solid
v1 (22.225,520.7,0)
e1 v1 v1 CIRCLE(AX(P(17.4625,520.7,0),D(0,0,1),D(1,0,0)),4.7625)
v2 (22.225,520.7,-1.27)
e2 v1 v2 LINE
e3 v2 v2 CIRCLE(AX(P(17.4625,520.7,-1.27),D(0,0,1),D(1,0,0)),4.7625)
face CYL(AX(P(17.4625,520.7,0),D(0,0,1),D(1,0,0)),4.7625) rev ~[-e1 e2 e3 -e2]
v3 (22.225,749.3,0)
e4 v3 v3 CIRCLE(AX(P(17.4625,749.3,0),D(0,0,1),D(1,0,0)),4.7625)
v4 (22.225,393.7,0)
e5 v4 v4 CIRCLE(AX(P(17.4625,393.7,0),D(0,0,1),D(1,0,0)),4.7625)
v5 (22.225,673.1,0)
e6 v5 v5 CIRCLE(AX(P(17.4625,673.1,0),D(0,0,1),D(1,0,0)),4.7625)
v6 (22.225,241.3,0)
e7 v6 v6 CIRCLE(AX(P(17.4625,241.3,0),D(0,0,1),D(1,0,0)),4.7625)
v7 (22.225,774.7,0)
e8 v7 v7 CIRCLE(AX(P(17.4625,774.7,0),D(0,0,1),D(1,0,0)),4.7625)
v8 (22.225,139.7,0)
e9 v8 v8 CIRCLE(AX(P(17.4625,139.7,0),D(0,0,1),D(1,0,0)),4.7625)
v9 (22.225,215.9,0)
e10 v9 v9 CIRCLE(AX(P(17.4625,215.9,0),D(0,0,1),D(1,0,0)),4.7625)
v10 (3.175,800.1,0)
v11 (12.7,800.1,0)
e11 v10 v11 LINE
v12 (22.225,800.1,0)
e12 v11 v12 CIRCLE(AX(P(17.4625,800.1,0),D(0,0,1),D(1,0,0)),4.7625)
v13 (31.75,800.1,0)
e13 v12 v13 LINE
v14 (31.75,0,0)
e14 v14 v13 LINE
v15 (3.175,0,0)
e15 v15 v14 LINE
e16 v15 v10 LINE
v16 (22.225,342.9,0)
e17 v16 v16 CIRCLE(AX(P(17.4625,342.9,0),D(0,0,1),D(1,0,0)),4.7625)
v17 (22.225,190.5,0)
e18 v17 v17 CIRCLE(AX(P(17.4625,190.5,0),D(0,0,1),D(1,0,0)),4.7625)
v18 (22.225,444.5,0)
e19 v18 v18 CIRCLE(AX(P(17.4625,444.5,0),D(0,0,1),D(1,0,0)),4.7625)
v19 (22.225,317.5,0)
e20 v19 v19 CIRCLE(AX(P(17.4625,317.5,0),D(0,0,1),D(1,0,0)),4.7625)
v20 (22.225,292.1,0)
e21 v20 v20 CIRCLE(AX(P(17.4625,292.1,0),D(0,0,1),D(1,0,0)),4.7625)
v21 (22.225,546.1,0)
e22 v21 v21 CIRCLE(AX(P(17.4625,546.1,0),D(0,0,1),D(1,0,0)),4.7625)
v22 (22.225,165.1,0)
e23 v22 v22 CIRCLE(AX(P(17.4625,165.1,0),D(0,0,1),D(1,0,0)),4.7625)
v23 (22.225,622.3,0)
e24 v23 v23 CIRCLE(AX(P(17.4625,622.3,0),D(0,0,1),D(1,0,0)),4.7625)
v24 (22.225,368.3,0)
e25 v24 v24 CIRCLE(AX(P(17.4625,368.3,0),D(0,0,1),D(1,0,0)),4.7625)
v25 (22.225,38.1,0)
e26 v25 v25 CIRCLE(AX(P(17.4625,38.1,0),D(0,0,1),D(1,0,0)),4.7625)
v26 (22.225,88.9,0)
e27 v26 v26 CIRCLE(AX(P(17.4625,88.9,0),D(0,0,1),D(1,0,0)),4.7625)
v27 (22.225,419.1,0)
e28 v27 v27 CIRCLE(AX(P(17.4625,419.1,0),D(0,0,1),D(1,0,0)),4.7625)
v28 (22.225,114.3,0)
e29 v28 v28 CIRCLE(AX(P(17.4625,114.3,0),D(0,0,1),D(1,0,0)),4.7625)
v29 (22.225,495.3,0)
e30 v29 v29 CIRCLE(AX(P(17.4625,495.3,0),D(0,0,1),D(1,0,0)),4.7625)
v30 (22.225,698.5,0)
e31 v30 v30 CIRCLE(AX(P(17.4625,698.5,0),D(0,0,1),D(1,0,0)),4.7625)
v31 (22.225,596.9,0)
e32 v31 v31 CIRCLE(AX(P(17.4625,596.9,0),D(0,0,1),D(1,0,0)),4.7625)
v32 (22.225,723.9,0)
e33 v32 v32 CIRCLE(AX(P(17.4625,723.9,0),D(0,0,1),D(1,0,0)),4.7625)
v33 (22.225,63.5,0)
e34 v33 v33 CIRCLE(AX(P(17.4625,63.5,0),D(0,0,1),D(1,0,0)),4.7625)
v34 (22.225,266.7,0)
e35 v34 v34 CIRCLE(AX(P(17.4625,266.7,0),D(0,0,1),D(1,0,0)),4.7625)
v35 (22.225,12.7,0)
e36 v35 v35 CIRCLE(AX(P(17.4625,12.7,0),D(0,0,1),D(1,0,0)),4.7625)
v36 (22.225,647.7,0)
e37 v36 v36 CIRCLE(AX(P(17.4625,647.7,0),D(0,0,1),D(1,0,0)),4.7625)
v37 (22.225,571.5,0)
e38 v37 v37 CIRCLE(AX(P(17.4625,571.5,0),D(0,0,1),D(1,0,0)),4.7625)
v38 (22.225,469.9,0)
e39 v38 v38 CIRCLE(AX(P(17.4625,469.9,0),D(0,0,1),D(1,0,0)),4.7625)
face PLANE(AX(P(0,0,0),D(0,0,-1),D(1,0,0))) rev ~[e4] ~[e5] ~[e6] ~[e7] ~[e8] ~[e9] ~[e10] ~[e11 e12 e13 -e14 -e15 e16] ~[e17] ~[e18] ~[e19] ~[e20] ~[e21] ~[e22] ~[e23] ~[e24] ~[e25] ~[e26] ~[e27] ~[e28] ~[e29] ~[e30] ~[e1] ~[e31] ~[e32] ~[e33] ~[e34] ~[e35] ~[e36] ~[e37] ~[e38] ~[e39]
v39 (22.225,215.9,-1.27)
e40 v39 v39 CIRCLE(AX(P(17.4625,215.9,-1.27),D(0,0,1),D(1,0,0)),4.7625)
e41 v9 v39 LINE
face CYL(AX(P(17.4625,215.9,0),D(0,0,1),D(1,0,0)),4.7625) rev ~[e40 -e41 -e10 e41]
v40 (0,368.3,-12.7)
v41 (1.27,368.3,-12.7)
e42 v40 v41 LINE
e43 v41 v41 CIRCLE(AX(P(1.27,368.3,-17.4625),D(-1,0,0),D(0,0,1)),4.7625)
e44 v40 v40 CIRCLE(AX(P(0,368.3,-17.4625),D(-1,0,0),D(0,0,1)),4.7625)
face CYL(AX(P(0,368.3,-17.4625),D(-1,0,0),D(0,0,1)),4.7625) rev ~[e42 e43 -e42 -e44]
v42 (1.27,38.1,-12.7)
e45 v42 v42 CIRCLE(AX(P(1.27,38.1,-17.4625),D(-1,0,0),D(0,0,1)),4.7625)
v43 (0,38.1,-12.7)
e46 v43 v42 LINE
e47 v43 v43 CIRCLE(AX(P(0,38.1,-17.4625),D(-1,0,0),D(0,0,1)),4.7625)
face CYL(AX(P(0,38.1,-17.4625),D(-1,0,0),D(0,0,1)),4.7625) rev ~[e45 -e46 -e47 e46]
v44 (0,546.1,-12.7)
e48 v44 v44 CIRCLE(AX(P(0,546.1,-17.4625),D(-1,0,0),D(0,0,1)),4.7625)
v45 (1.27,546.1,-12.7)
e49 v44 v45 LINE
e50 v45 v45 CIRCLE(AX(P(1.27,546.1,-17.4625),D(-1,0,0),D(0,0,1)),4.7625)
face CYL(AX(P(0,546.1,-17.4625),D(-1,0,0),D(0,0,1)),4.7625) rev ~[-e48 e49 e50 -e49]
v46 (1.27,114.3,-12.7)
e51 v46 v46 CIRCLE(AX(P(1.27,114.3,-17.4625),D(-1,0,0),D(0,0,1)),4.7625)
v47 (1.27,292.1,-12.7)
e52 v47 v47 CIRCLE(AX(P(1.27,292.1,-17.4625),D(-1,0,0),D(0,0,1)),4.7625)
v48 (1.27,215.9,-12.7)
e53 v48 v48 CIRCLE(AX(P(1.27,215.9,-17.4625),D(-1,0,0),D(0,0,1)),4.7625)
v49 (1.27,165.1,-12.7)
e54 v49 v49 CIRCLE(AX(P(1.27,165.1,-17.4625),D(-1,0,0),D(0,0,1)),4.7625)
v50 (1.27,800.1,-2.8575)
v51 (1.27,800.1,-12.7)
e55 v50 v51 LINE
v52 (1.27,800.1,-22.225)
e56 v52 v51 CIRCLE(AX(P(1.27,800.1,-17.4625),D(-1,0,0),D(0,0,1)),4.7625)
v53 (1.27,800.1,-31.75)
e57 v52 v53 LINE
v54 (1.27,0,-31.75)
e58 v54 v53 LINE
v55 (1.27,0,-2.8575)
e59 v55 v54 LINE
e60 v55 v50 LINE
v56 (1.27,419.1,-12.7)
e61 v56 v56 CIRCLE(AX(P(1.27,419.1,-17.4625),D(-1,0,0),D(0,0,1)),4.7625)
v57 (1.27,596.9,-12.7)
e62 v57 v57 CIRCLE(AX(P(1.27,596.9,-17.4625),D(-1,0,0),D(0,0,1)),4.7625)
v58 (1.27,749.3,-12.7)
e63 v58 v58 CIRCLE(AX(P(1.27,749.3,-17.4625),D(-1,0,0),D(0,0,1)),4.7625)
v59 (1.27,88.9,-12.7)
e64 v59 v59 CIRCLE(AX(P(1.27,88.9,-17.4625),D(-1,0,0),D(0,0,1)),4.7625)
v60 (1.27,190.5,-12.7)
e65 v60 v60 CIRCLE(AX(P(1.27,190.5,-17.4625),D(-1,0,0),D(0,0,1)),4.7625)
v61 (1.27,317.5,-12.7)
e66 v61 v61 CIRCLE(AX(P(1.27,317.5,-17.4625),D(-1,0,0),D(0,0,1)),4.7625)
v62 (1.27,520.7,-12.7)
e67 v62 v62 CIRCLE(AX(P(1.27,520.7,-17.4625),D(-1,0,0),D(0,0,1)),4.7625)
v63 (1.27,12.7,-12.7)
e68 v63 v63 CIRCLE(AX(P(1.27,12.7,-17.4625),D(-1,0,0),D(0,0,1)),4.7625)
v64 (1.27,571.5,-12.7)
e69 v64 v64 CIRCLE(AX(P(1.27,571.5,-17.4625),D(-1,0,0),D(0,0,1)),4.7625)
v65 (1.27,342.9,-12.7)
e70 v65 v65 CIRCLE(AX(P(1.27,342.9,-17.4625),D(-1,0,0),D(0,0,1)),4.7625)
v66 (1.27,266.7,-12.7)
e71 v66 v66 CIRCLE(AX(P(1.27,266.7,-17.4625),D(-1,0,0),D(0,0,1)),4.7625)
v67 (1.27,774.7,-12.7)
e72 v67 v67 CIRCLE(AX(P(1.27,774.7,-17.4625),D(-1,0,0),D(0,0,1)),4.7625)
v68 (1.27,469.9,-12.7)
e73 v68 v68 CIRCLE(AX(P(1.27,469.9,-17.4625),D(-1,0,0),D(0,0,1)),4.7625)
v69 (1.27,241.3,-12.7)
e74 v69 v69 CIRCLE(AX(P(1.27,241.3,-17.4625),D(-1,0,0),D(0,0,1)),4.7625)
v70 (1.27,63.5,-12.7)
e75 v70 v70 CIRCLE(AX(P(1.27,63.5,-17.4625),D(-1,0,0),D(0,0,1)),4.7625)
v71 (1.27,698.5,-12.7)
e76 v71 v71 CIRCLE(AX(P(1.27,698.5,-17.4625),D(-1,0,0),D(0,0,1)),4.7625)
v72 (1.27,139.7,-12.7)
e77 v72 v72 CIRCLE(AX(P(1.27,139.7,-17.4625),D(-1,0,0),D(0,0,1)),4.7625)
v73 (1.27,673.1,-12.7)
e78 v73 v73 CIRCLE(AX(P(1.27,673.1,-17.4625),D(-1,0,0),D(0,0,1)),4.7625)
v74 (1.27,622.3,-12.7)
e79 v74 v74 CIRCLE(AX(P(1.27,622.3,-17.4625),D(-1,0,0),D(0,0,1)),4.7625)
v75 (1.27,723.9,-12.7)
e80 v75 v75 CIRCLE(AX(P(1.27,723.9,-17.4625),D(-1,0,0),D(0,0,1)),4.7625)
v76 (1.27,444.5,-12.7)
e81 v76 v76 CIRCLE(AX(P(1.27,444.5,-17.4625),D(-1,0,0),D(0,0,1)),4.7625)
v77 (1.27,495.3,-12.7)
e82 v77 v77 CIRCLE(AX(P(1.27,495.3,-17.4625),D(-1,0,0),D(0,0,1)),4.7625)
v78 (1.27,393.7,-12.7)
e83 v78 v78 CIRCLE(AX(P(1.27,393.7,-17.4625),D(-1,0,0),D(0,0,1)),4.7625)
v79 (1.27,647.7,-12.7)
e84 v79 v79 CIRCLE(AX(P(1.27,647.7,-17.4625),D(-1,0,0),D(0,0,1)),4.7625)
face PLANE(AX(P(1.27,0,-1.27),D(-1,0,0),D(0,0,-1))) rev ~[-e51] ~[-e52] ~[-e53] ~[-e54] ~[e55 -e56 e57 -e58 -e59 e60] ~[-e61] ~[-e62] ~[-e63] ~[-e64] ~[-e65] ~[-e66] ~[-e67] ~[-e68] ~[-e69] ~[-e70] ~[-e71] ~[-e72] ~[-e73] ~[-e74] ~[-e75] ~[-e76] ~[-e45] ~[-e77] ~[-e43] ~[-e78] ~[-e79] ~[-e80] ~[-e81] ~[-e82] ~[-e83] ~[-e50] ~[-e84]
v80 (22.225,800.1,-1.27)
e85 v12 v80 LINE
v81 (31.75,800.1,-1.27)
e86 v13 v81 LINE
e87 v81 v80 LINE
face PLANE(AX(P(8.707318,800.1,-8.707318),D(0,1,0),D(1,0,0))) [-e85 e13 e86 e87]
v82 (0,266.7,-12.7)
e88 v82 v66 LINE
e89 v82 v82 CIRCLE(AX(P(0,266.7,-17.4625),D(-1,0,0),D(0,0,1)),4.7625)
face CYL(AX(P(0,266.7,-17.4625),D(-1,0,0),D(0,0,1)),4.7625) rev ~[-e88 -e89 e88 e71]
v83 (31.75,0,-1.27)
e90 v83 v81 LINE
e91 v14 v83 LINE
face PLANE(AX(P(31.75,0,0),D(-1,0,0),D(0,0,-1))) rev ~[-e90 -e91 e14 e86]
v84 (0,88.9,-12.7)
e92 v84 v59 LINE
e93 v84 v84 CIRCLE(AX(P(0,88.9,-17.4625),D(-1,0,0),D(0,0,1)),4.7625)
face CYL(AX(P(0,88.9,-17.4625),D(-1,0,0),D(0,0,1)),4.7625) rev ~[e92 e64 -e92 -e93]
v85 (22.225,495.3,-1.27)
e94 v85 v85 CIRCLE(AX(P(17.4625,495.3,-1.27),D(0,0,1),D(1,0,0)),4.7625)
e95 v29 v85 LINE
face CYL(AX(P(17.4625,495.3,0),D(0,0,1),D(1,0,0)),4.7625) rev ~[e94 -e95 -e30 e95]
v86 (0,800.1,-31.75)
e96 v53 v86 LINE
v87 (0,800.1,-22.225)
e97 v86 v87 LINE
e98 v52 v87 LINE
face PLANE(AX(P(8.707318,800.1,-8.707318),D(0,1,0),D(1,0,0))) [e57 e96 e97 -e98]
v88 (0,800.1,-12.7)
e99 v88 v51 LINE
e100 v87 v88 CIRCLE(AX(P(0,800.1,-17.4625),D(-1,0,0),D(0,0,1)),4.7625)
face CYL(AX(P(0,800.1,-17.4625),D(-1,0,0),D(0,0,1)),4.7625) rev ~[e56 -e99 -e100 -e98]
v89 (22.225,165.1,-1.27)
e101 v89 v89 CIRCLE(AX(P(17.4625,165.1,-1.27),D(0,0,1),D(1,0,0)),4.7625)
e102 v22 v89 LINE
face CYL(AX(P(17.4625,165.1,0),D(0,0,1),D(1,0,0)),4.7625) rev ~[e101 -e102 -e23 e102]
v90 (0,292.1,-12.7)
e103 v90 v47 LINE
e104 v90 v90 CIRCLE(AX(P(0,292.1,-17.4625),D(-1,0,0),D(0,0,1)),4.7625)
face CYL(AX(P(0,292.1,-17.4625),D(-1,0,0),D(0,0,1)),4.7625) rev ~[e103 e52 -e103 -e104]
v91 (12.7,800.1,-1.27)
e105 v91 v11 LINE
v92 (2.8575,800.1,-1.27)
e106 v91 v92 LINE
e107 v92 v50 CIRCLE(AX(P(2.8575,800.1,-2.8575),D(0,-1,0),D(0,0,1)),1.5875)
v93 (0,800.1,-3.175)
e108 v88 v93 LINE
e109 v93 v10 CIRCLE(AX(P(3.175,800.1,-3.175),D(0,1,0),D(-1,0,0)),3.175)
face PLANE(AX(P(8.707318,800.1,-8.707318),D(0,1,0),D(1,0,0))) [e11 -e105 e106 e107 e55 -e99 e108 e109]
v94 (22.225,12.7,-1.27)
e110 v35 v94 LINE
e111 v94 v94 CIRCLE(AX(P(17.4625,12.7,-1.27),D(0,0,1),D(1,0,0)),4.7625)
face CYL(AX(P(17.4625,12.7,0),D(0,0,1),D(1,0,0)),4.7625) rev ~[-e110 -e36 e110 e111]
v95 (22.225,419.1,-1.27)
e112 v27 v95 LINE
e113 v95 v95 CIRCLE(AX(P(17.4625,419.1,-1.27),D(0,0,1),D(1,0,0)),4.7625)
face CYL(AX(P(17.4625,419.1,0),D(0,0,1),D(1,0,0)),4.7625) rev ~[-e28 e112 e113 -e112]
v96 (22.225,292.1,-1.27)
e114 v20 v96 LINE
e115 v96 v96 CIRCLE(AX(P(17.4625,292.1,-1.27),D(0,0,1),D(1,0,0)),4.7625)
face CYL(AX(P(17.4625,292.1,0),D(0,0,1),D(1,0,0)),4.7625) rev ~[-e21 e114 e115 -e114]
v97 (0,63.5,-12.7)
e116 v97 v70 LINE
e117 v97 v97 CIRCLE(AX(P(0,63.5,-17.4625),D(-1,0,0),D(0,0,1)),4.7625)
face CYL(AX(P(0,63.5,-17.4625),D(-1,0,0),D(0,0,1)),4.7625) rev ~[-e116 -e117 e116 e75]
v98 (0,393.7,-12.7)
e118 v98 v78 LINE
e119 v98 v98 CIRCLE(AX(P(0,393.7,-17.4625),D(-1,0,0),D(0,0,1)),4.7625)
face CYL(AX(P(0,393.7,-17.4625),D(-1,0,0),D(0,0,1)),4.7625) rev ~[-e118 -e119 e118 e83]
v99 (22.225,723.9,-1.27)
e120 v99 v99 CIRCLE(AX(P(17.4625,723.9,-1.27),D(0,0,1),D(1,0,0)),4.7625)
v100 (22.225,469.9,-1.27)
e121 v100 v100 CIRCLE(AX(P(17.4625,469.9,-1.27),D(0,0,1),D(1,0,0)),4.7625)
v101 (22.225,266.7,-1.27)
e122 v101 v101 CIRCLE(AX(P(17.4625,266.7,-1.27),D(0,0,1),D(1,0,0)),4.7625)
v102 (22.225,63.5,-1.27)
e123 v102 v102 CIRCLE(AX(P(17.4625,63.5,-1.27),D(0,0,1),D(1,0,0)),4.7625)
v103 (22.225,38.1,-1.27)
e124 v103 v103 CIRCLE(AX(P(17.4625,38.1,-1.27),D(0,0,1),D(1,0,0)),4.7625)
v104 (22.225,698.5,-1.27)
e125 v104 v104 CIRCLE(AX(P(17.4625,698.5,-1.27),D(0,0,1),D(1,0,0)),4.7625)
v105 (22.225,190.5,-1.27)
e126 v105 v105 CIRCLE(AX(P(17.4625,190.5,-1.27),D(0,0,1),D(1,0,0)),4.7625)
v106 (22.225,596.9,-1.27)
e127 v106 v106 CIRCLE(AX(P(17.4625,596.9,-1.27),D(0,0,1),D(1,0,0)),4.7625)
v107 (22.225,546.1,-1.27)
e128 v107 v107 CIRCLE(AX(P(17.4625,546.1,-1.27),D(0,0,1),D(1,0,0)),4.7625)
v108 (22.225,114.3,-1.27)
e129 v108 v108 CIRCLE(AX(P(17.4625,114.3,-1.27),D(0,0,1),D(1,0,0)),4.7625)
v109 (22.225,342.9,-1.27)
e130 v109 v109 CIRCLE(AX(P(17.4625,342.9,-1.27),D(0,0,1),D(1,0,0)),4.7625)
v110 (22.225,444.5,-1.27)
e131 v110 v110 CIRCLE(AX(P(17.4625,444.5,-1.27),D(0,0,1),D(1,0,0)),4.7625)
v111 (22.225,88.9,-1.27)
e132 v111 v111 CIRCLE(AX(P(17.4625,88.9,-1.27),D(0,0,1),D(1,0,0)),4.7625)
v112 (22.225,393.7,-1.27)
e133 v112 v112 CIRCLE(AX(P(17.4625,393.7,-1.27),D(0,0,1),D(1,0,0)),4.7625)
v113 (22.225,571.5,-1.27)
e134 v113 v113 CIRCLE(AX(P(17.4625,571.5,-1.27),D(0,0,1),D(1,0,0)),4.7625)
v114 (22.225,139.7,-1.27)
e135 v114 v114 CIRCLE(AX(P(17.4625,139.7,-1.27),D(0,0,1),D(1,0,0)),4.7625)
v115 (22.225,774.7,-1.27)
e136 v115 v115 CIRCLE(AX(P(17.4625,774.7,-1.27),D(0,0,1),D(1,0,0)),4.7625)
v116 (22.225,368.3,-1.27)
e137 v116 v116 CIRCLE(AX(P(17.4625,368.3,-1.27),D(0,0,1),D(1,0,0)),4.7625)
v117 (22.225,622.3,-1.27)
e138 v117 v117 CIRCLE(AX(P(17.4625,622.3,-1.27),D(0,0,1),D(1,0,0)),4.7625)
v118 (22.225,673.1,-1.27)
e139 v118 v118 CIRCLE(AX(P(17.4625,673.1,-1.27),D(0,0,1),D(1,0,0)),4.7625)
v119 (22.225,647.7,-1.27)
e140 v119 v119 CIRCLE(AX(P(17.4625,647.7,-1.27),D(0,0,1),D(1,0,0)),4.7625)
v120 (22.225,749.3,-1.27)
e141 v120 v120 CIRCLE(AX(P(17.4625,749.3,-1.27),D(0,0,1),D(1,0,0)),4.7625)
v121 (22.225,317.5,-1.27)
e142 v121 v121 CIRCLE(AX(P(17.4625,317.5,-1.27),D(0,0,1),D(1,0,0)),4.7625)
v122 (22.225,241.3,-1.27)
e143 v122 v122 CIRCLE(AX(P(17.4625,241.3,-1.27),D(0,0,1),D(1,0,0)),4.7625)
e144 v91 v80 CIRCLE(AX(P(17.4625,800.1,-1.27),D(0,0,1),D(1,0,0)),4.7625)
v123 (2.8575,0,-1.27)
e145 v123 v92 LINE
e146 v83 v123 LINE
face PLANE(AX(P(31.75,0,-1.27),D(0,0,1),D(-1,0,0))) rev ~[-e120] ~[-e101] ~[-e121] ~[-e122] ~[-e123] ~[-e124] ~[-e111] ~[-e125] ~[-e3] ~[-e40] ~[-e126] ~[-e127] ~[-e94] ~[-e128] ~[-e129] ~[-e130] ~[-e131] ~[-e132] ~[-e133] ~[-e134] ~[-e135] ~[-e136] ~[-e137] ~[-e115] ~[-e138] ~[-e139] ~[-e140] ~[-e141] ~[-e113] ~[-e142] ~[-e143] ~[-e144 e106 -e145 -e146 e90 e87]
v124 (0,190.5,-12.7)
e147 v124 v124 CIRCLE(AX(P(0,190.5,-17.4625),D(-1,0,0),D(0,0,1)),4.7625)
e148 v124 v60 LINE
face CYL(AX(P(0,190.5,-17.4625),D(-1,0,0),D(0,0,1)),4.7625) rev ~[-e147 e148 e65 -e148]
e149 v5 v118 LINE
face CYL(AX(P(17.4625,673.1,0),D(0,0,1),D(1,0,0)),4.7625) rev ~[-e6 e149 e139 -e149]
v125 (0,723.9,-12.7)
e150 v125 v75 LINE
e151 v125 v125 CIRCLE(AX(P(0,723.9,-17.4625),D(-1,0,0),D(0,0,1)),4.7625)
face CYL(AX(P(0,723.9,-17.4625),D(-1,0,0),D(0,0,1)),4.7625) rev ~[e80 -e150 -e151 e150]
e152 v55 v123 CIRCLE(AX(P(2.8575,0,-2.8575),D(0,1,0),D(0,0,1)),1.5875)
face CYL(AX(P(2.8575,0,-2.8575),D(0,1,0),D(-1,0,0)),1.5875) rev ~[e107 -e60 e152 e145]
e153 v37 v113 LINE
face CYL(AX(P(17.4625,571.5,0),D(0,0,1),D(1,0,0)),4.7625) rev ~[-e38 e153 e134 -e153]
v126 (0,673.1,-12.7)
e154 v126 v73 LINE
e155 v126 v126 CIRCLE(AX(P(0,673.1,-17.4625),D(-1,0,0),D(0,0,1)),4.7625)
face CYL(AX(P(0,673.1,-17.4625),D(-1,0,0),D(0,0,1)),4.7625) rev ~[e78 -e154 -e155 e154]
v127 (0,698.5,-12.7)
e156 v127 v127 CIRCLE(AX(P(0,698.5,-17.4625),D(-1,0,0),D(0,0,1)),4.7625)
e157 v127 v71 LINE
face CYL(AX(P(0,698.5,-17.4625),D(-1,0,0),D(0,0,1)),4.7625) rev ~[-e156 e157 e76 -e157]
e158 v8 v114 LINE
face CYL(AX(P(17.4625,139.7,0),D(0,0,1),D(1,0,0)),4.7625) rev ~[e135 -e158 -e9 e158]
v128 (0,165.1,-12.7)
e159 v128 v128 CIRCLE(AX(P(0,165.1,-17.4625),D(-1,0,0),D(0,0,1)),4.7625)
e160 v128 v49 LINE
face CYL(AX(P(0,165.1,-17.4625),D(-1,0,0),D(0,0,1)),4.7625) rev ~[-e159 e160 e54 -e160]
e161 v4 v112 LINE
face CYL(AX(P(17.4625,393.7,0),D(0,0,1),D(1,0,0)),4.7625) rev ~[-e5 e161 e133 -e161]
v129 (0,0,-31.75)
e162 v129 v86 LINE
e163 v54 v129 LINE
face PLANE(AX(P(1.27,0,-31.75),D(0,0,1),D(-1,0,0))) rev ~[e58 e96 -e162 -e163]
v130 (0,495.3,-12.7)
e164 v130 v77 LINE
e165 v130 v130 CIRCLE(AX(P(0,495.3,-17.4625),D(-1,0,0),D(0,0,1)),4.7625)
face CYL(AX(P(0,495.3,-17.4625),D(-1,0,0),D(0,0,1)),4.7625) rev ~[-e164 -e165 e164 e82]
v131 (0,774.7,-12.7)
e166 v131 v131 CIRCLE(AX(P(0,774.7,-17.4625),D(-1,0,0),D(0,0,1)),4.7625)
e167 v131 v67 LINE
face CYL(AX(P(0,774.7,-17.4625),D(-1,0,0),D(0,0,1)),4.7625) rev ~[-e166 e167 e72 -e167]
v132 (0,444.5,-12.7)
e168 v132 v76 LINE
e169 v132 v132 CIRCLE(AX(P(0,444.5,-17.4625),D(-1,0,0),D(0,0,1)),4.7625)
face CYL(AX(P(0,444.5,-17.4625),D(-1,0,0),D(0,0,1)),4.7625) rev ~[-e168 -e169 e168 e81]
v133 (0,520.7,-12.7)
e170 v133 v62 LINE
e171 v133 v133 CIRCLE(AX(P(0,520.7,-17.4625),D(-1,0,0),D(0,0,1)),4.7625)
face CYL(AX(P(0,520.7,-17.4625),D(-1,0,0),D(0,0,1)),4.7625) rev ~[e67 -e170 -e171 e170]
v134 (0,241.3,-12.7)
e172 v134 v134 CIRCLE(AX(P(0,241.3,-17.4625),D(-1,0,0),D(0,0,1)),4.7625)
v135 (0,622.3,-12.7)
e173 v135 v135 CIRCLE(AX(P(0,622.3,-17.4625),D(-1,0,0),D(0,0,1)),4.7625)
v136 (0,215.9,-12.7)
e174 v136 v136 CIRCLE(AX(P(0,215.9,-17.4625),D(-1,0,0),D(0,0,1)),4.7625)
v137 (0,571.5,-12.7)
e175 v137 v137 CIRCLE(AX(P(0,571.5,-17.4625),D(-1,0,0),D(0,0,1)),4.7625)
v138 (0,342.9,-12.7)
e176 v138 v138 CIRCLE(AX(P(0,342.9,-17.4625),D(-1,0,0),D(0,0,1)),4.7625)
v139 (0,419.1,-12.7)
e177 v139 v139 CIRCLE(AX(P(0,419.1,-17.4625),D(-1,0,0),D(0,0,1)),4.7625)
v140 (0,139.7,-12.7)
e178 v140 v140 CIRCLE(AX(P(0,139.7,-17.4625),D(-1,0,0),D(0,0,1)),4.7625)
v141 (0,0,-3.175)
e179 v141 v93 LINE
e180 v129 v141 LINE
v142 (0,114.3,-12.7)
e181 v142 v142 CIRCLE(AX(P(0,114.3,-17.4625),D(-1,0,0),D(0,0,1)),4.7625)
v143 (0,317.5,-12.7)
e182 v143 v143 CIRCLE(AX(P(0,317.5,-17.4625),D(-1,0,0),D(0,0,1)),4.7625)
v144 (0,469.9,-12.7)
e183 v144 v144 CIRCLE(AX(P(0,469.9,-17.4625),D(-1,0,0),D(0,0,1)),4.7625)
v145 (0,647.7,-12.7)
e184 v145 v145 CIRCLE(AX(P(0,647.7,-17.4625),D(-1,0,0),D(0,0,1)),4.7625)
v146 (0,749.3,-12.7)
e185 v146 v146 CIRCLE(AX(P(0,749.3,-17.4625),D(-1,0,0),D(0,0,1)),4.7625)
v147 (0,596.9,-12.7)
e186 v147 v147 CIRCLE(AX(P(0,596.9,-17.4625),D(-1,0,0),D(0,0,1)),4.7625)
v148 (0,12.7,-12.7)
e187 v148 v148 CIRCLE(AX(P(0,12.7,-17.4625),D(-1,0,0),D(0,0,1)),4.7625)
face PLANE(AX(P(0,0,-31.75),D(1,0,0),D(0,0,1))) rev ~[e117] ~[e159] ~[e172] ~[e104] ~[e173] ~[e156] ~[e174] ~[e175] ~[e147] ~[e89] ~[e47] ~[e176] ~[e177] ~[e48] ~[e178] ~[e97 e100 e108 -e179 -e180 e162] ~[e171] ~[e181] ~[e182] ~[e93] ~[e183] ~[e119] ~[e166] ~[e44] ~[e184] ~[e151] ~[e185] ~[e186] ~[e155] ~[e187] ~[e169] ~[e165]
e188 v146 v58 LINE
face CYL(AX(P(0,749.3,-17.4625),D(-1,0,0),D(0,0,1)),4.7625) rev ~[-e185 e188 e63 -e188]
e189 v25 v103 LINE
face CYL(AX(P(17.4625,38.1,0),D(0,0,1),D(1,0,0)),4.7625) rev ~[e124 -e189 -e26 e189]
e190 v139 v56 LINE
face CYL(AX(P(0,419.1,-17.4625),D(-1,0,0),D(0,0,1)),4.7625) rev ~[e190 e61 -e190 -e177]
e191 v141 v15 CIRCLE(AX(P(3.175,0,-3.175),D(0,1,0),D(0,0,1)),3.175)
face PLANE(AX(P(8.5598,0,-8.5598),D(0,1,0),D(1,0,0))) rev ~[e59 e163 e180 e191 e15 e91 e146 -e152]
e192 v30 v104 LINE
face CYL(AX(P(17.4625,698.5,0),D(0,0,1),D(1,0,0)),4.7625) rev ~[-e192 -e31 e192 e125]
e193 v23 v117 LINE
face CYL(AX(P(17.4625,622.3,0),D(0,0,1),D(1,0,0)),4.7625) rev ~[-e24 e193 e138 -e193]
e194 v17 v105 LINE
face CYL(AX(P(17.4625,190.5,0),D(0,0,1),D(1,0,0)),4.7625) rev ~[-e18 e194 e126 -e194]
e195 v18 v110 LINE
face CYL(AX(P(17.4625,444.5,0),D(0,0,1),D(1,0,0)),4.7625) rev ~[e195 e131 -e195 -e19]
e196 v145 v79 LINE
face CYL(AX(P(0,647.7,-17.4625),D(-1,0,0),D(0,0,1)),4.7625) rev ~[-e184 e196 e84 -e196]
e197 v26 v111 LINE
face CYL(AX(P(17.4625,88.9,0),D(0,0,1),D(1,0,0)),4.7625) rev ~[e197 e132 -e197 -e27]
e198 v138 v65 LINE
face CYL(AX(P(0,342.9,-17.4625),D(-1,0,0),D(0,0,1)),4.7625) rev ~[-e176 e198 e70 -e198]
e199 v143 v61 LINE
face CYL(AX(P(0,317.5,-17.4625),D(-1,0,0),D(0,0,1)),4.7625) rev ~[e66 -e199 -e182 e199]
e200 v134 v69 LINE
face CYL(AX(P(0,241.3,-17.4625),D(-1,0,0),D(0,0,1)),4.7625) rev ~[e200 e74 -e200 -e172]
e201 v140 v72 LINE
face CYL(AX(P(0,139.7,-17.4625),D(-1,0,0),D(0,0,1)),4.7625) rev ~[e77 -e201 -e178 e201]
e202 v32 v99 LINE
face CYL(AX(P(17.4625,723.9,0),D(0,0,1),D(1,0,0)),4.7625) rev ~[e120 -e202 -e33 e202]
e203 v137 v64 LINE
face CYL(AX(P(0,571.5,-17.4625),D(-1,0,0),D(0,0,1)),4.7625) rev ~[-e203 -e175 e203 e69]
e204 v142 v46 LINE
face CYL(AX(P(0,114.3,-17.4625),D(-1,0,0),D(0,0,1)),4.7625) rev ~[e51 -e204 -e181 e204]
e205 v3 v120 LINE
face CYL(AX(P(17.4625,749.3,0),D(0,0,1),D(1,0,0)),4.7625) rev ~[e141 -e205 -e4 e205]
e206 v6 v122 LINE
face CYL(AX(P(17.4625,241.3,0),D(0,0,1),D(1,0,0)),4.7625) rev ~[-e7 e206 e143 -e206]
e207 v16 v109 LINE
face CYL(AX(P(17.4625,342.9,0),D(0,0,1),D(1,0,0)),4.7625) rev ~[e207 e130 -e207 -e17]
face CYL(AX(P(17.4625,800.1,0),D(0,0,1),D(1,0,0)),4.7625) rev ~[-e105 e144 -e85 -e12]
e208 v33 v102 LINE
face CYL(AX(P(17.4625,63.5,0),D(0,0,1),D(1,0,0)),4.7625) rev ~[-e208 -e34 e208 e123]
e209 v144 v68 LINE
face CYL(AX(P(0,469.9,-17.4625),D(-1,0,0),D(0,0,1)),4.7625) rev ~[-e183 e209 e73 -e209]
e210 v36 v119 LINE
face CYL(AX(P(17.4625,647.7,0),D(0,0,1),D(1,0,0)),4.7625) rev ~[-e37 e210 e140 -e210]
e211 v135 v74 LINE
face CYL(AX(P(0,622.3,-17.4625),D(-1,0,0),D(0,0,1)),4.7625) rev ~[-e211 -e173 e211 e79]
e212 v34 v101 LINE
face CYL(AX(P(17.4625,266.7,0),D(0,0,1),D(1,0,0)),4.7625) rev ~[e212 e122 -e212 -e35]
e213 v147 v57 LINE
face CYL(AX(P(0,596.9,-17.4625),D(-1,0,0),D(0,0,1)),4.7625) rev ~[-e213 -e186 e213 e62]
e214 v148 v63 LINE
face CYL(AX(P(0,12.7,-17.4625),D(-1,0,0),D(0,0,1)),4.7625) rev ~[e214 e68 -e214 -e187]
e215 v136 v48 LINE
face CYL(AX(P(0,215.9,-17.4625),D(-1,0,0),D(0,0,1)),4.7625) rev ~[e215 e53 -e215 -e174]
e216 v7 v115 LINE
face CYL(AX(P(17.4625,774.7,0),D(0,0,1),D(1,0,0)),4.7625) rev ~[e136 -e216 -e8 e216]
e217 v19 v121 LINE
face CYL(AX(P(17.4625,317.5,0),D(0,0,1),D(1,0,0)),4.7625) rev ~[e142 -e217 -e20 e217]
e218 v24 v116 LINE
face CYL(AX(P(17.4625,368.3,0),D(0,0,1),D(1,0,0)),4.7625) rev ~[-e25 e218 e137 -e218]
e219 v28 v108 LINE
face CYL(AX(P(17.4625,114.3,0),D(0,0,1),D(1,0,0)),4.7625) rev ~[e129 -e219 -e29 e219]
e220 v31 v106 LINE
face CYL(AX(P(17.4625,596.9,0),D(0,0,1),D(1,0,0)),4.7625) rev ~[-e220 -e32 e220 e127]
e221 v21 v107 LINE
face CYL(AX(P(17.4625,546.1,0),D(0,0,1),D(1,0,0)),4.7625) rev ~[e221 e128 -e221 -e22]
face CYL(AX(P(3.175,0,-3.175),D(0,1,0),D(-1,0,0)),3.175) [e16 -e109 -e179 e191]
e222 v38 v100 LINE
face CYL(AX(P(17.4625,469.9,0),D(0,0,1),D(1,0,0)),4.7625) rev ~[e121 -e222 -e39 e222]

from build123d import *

# Parameters (mm, degrees)
BOSS_EXTRUDE1_DEPTH = 1219.2
SKETCH3_R           = 4.7625
CUT_EXTRUDE1_DEPTH  = 1.27
SKETCH4_R           = 4.7625
CUT_EXTRUDE2_DEPTH  = 1.27
FILLET1_R           = 3.175
FILLET2_R           = 1.5875
CUT_EXTRUDE3_DEPTH  = 419.1


with BuildPart() as part:
    # Sketch1 → Boss-Extrude1 (new body)
    with BuildSketch(Plane(origin=(0, 0, 0), x_dir=(1, 0, 0), z_dir=(0, 1, 0))):
        Polygon((1.27, 1.27), (1.27, 30.48), (1.27, 31.75), (0, 31.75), (0, 0), (31.75, 0), (31.75, 1.27), (30.48, 1.27), align=None)
    extrude(amount=BOSS_EXTRUDE1_DEPTH)

    # Sketch3 → Cut-Extrude1 (cut)
    with BuildSketch(Plane.ZY):
        with Locations((-17.4625, 12.7)):
            Circle(SKETCH3_R)
        with Locations((-17.4625, 38.1)):
            Circle(SKETCH3_R)
        with Locations((-17.4625, 63.5)):
            Circle(SKETCH3_R)
        with Locations((-17.4625, 88.9)):
            Circle(SKETCH3_R)
        with Locations((-17.4625, 114.3)):
            Circle(SKETCH3_R)
        with Locations((-17.4625, 139.7)):
            Circle(SKETCH3_R)
        with Locations((-17.4625, 165.1)):
            Circle(SKETCH3_R)
        with Locations((-17.4625, 190.5)):
            Circle(SKETCH3_R)
        with Locations((-17.4625, 215.9)):
            Circle(SKETCH3_R)
        with Locations((-17.4625, 241.3)):
            Circle(SKETCH3_R)
        with Locations((-17.4625, 266.7)):
            Circle(SKETCH3_R)
        with Locations((-17.4625, 292.1)):
            Circle(SKETCH3_R)
        with Locations((-17.4625, 317.5)):
            Circle(SKETCH3_R)
        with Locations((-17.4625, 342.9)):
            Circle(SKETCH3_R)
        with Locations((-17.4625, 368.3)):
            Circle(SKETCH3_R)
        with Locations((-17.4625, 393.7)):
            Circle(SKETCH3_R)
        with Locations((-17.4625, 419.1)):
            Circle(SKETCH3_R)
        with Locations((-17.4625, 444.5)):
            Circle(SKETCH3_R)
        with Locations((-17.4625, 469.9)):
            Circle(SKETCH3_R)
        with Locations((-17.4625, 495.3)):
            Circle(SKETCH3_R)
        with Locations((-17.4625, 520.7)):
            Circle(SKETCH3_R)
        with Locations((-17.4625, 546.1)):
            Circle(SKETCH3_R)
        with Locations((-17.4625, 571.5)):
            Circle(SKETCH3_R)
        with Locations((-17.4625, 596.9)):
            Circle(SKETCH3_R)
        with Locations((-17.4625, 622.3)):
            Circle(SKETCH3_R)
        with Locations((-17.4625, 647.7)):
            Circle(SKETCH3_R)
        with Locations((-17.4625, 673.1)):
            Circle(SKETCH3_R)
        with Locations((-17.4625, 698.5)):
            Circle(SKETCH3_R)
        with Locations((-17.4625, 723.9)):
            Circle(SKETCH3_R)
        with Locations((-17.4625, 749.3)):
            Circle(SKETCH3_R)
        with Locations((-17.4625, 774.7)):
            Circle(SKETCH3_R)
        with Locations((-17.4625, 800.1)):
            Circle(SKETCH3_R)
        with Locations((-17.4625, 825.5)):
            Circle(SKETCH3_R)
        with Locations((-17.4625, 850.9)):
            Circle(SKETCH3_R)
        with Locations((-17.4625, 876.3)):
            Circle(SKETCH3_R)
        with Locations((-17.4625, 901.7)):
            Circle(SKETCH3_R)
        with Locations((-17.4625, 927.1)):
            Circle(SKETCH3_R)
        with Locations((-17.4625, 952.5)):
            Circle(SKETCH3_R)
        with Locations((-17.4625, 977.9)):
            Circle(SKETCH3_R)
        with Locations((-17.4625, 1003.3)):
            Circle(SKETCH3_R)
        with Locations((-17.4625, 1028.7)):
            Circle(SKETCH3_R)
        with Locations((-17.4625, 1054.1)):
            Circle(SKETCH3_R)
        with Locations((-17.4625, 1079.5)):
            Circle(SKETCH3_R)
        with Locations((-17.4625, 1104.9)):
            Circle(SKETCH3_R)
        with Locations((-17.4625, 1130.3)):
            Circle(SKETCH3_R)
        with Locations((-17.4625, 1155.7)):
            Circle(SKETCH3_R)
        with Locations((-17.4625, 1181.1)):
            Circle(SKETCH3_R)
        with Locations((-17.4625, 1206.5)):
            Circle(SKETCH3_R)
    extrude(amount=-CUT_EXTRUDE1_DEPTH, mode=Mode.SUBTRACT)

    # Sketch4 → Cut-Extrude2 (cut)
    with BuildSketch(Plane.XY):
        with Locations((17.4625, 1206.5)):
            Circle(SKETCH4_R)
        with Locations((17.4625, 1181.1)):
            Circle(SKETCH4_R)
        with Locations((17.4625, 1155.7)):
            Circle(SKETCH4_R)
        with Locations((17.4625, 1130.3)):
            Circle(SKETCH4_R)
        with Locations((17.4625, 1104.9)):
            Circle(SKETCH4_R)
        with Locations((17.4625, 1079.5)):
            Circle(SKETCH4_R)
        with Locations((17.4625, 1054.1)):
            Circle(SKETCH4_R)
        with Locations((17.4625, 1028.7)):
            Circle(SKETCH4_R)
        with Locations((17.4625, 1003.3)):
            Circle(SKETCH4_R)
        with Locations((17.4625, 977.9)):
            Circle(SKETCH4_R)
        with Locations((17.4625, 952.5)):
            Circle(SKETCH4_R)
        with Locations((17.4625, 927.1)):
            Circle(SKETCH4_R)
        with Locations((17.4625, 901.7)):
            Circle(SKETCH4_R)
        with Locations((17.4625, 876.3)):
            Circle(SKETCH4_R)
        with Locations((17.4625, 850.9)):
            Circle(SKETCH4_R)
        with Locations((17.4625, 825.5)):
            Circle(SKETCH4_R)
        with Locations((17.4625, 800.1)):
            Circle(SKETCH4_R)
        with Locations((17.4625, 774.7)):
            Circle(SKETCH4_R)
        with Locations((17.4625, 749.3)):
            Circle(SKETCH4_R)
        with Locations((17.4625, 723.9)):
            Circle(SKETCH4_R)
        with Locations((17.4625, 698.5)):
            Circle(SKETCH4_R)
        with Locations((17.4625, 673.1)):
            Circle(SKETCH4_R)
        with Locations((17.4625, 647.7)):
            Circle(SKETCH4_R)
        with Locations((17.4625, 622.3)):
            Circle(SKETCH4_R)
        with Locations((17.4625, 596.9)):
            Circle(SKETCH4_R)
        with Locations((17.4625, 571.5)):
            Circle(SKETCH4_R)
        with Locations((17.4625, 546.1)):
            Circle(SKETCH4_R)
        with Locations((17.4625, 520.7)):
            Circle(SKETCH4_R)
        with Locations((17.4625, 495.3)):
            Circle(SKETCH4_R)
        with Locations((17.4625, 469.9)):
            Circle(SKETCH4_R)
        with Locations((17.4625, 444.5)):
            Circle(SKETCH4_R)
        with Locations((17.4625, 419.1)):
            Circle(SKETCH4_R)
        with Locations((17.4625, 393.7)):
            Circle(SKETCH4_R)
        with Locations((17.4625, 368.3)):
            Circle(SKETCH4_R)
        with Locations((17.4625, 342.9)):
            Circle(SKETCH4_R)
        with Locations((17.4625, 317.5)):
            Circle(SKETCH4_R)
        with Locations((17.4625, 292.1)):
            Circle(SKETCH4_R)
        with Locations((17.4625, 266.7)):
            Circle(SKETCH4_R)
        with Locations((17.4625, 241.3)):
            Circle(SKETCH4_R)
        with Locations((17.4625, 215.9)):
            Circle(SKETCH4_R)
        with Locations((17.4625, 190.5)):
            Circle(SKETCH4_R)
        with Locations((17.4625, 165.1)):
            Circle(SKETCH4_R)
        with Locations((17.4625, 139.7)):
            Circle(SKETCH4_R)
        with Locations((17.4625, 114.3)):
            Circle(SKETCH4_R)
        with Locations((17.4625, 88.9)):
            Circle(SKETCH4_R)
        with Locations((17.4625, 63.5)):
            Circle(SKETCH4_R)
        with Locations((17.4625, 38.1)):
            Circle(SKETCH4_R)
        with Locations((17.4625, 12.7)):
            Circle(SKETCH4_R)
    extrude(amount=-CUT_EXTRUDE2_DEPTH, mode=Mode.SUBTRACT)

    # Fillet1
    fillet1_edges = [part.edges().sort_by_distance(p)[0] for p in [
        (0, 609.6, 0),
    ]]
    fillet(fillet1_edges, radius=FILLET1_R)

    # Fillet2
    fillet2_edges = [part.edges().sort_by_distance(p)[0] for p in [
        (1.27, 609.6, -1.27),
    ]]
    fillet(fillet2_edges, radius=FILLET2_R)

    # Sketch5 → Cut-Extrude3 (cut)
    with BuildSketch(Plane(origin=(0, 1219.2, 0), x_dir=(1, 0, 0), z_dir=(0, 1, 0))):
        with BuildLine():
            Line((0, 31.75), (0, 3.175))
            ThreePointArc((0, 3.175), (0.92993597, 0.92993597), (3.175, 0))
            Line((3.175, 0), (31.75, 0))
            Line((31.75, 0), (31.75, 1.27))
            Line((31.75, 1.27), (2.8575, 1.27))
            ThreePointArc((2.8575, 1.27), (1.734967985, 1.734967985), (1.27, 2.8575))
            Line((1.27, 2.8575), (1.27, 31.75))
            Line((1.27, 31.75), (0, 31.75))
        make_face()
    extrude(amount=-CUT_EXTRUDE3_DEPTH, mode=Mode.SUBTRACT)


solid = part.part
